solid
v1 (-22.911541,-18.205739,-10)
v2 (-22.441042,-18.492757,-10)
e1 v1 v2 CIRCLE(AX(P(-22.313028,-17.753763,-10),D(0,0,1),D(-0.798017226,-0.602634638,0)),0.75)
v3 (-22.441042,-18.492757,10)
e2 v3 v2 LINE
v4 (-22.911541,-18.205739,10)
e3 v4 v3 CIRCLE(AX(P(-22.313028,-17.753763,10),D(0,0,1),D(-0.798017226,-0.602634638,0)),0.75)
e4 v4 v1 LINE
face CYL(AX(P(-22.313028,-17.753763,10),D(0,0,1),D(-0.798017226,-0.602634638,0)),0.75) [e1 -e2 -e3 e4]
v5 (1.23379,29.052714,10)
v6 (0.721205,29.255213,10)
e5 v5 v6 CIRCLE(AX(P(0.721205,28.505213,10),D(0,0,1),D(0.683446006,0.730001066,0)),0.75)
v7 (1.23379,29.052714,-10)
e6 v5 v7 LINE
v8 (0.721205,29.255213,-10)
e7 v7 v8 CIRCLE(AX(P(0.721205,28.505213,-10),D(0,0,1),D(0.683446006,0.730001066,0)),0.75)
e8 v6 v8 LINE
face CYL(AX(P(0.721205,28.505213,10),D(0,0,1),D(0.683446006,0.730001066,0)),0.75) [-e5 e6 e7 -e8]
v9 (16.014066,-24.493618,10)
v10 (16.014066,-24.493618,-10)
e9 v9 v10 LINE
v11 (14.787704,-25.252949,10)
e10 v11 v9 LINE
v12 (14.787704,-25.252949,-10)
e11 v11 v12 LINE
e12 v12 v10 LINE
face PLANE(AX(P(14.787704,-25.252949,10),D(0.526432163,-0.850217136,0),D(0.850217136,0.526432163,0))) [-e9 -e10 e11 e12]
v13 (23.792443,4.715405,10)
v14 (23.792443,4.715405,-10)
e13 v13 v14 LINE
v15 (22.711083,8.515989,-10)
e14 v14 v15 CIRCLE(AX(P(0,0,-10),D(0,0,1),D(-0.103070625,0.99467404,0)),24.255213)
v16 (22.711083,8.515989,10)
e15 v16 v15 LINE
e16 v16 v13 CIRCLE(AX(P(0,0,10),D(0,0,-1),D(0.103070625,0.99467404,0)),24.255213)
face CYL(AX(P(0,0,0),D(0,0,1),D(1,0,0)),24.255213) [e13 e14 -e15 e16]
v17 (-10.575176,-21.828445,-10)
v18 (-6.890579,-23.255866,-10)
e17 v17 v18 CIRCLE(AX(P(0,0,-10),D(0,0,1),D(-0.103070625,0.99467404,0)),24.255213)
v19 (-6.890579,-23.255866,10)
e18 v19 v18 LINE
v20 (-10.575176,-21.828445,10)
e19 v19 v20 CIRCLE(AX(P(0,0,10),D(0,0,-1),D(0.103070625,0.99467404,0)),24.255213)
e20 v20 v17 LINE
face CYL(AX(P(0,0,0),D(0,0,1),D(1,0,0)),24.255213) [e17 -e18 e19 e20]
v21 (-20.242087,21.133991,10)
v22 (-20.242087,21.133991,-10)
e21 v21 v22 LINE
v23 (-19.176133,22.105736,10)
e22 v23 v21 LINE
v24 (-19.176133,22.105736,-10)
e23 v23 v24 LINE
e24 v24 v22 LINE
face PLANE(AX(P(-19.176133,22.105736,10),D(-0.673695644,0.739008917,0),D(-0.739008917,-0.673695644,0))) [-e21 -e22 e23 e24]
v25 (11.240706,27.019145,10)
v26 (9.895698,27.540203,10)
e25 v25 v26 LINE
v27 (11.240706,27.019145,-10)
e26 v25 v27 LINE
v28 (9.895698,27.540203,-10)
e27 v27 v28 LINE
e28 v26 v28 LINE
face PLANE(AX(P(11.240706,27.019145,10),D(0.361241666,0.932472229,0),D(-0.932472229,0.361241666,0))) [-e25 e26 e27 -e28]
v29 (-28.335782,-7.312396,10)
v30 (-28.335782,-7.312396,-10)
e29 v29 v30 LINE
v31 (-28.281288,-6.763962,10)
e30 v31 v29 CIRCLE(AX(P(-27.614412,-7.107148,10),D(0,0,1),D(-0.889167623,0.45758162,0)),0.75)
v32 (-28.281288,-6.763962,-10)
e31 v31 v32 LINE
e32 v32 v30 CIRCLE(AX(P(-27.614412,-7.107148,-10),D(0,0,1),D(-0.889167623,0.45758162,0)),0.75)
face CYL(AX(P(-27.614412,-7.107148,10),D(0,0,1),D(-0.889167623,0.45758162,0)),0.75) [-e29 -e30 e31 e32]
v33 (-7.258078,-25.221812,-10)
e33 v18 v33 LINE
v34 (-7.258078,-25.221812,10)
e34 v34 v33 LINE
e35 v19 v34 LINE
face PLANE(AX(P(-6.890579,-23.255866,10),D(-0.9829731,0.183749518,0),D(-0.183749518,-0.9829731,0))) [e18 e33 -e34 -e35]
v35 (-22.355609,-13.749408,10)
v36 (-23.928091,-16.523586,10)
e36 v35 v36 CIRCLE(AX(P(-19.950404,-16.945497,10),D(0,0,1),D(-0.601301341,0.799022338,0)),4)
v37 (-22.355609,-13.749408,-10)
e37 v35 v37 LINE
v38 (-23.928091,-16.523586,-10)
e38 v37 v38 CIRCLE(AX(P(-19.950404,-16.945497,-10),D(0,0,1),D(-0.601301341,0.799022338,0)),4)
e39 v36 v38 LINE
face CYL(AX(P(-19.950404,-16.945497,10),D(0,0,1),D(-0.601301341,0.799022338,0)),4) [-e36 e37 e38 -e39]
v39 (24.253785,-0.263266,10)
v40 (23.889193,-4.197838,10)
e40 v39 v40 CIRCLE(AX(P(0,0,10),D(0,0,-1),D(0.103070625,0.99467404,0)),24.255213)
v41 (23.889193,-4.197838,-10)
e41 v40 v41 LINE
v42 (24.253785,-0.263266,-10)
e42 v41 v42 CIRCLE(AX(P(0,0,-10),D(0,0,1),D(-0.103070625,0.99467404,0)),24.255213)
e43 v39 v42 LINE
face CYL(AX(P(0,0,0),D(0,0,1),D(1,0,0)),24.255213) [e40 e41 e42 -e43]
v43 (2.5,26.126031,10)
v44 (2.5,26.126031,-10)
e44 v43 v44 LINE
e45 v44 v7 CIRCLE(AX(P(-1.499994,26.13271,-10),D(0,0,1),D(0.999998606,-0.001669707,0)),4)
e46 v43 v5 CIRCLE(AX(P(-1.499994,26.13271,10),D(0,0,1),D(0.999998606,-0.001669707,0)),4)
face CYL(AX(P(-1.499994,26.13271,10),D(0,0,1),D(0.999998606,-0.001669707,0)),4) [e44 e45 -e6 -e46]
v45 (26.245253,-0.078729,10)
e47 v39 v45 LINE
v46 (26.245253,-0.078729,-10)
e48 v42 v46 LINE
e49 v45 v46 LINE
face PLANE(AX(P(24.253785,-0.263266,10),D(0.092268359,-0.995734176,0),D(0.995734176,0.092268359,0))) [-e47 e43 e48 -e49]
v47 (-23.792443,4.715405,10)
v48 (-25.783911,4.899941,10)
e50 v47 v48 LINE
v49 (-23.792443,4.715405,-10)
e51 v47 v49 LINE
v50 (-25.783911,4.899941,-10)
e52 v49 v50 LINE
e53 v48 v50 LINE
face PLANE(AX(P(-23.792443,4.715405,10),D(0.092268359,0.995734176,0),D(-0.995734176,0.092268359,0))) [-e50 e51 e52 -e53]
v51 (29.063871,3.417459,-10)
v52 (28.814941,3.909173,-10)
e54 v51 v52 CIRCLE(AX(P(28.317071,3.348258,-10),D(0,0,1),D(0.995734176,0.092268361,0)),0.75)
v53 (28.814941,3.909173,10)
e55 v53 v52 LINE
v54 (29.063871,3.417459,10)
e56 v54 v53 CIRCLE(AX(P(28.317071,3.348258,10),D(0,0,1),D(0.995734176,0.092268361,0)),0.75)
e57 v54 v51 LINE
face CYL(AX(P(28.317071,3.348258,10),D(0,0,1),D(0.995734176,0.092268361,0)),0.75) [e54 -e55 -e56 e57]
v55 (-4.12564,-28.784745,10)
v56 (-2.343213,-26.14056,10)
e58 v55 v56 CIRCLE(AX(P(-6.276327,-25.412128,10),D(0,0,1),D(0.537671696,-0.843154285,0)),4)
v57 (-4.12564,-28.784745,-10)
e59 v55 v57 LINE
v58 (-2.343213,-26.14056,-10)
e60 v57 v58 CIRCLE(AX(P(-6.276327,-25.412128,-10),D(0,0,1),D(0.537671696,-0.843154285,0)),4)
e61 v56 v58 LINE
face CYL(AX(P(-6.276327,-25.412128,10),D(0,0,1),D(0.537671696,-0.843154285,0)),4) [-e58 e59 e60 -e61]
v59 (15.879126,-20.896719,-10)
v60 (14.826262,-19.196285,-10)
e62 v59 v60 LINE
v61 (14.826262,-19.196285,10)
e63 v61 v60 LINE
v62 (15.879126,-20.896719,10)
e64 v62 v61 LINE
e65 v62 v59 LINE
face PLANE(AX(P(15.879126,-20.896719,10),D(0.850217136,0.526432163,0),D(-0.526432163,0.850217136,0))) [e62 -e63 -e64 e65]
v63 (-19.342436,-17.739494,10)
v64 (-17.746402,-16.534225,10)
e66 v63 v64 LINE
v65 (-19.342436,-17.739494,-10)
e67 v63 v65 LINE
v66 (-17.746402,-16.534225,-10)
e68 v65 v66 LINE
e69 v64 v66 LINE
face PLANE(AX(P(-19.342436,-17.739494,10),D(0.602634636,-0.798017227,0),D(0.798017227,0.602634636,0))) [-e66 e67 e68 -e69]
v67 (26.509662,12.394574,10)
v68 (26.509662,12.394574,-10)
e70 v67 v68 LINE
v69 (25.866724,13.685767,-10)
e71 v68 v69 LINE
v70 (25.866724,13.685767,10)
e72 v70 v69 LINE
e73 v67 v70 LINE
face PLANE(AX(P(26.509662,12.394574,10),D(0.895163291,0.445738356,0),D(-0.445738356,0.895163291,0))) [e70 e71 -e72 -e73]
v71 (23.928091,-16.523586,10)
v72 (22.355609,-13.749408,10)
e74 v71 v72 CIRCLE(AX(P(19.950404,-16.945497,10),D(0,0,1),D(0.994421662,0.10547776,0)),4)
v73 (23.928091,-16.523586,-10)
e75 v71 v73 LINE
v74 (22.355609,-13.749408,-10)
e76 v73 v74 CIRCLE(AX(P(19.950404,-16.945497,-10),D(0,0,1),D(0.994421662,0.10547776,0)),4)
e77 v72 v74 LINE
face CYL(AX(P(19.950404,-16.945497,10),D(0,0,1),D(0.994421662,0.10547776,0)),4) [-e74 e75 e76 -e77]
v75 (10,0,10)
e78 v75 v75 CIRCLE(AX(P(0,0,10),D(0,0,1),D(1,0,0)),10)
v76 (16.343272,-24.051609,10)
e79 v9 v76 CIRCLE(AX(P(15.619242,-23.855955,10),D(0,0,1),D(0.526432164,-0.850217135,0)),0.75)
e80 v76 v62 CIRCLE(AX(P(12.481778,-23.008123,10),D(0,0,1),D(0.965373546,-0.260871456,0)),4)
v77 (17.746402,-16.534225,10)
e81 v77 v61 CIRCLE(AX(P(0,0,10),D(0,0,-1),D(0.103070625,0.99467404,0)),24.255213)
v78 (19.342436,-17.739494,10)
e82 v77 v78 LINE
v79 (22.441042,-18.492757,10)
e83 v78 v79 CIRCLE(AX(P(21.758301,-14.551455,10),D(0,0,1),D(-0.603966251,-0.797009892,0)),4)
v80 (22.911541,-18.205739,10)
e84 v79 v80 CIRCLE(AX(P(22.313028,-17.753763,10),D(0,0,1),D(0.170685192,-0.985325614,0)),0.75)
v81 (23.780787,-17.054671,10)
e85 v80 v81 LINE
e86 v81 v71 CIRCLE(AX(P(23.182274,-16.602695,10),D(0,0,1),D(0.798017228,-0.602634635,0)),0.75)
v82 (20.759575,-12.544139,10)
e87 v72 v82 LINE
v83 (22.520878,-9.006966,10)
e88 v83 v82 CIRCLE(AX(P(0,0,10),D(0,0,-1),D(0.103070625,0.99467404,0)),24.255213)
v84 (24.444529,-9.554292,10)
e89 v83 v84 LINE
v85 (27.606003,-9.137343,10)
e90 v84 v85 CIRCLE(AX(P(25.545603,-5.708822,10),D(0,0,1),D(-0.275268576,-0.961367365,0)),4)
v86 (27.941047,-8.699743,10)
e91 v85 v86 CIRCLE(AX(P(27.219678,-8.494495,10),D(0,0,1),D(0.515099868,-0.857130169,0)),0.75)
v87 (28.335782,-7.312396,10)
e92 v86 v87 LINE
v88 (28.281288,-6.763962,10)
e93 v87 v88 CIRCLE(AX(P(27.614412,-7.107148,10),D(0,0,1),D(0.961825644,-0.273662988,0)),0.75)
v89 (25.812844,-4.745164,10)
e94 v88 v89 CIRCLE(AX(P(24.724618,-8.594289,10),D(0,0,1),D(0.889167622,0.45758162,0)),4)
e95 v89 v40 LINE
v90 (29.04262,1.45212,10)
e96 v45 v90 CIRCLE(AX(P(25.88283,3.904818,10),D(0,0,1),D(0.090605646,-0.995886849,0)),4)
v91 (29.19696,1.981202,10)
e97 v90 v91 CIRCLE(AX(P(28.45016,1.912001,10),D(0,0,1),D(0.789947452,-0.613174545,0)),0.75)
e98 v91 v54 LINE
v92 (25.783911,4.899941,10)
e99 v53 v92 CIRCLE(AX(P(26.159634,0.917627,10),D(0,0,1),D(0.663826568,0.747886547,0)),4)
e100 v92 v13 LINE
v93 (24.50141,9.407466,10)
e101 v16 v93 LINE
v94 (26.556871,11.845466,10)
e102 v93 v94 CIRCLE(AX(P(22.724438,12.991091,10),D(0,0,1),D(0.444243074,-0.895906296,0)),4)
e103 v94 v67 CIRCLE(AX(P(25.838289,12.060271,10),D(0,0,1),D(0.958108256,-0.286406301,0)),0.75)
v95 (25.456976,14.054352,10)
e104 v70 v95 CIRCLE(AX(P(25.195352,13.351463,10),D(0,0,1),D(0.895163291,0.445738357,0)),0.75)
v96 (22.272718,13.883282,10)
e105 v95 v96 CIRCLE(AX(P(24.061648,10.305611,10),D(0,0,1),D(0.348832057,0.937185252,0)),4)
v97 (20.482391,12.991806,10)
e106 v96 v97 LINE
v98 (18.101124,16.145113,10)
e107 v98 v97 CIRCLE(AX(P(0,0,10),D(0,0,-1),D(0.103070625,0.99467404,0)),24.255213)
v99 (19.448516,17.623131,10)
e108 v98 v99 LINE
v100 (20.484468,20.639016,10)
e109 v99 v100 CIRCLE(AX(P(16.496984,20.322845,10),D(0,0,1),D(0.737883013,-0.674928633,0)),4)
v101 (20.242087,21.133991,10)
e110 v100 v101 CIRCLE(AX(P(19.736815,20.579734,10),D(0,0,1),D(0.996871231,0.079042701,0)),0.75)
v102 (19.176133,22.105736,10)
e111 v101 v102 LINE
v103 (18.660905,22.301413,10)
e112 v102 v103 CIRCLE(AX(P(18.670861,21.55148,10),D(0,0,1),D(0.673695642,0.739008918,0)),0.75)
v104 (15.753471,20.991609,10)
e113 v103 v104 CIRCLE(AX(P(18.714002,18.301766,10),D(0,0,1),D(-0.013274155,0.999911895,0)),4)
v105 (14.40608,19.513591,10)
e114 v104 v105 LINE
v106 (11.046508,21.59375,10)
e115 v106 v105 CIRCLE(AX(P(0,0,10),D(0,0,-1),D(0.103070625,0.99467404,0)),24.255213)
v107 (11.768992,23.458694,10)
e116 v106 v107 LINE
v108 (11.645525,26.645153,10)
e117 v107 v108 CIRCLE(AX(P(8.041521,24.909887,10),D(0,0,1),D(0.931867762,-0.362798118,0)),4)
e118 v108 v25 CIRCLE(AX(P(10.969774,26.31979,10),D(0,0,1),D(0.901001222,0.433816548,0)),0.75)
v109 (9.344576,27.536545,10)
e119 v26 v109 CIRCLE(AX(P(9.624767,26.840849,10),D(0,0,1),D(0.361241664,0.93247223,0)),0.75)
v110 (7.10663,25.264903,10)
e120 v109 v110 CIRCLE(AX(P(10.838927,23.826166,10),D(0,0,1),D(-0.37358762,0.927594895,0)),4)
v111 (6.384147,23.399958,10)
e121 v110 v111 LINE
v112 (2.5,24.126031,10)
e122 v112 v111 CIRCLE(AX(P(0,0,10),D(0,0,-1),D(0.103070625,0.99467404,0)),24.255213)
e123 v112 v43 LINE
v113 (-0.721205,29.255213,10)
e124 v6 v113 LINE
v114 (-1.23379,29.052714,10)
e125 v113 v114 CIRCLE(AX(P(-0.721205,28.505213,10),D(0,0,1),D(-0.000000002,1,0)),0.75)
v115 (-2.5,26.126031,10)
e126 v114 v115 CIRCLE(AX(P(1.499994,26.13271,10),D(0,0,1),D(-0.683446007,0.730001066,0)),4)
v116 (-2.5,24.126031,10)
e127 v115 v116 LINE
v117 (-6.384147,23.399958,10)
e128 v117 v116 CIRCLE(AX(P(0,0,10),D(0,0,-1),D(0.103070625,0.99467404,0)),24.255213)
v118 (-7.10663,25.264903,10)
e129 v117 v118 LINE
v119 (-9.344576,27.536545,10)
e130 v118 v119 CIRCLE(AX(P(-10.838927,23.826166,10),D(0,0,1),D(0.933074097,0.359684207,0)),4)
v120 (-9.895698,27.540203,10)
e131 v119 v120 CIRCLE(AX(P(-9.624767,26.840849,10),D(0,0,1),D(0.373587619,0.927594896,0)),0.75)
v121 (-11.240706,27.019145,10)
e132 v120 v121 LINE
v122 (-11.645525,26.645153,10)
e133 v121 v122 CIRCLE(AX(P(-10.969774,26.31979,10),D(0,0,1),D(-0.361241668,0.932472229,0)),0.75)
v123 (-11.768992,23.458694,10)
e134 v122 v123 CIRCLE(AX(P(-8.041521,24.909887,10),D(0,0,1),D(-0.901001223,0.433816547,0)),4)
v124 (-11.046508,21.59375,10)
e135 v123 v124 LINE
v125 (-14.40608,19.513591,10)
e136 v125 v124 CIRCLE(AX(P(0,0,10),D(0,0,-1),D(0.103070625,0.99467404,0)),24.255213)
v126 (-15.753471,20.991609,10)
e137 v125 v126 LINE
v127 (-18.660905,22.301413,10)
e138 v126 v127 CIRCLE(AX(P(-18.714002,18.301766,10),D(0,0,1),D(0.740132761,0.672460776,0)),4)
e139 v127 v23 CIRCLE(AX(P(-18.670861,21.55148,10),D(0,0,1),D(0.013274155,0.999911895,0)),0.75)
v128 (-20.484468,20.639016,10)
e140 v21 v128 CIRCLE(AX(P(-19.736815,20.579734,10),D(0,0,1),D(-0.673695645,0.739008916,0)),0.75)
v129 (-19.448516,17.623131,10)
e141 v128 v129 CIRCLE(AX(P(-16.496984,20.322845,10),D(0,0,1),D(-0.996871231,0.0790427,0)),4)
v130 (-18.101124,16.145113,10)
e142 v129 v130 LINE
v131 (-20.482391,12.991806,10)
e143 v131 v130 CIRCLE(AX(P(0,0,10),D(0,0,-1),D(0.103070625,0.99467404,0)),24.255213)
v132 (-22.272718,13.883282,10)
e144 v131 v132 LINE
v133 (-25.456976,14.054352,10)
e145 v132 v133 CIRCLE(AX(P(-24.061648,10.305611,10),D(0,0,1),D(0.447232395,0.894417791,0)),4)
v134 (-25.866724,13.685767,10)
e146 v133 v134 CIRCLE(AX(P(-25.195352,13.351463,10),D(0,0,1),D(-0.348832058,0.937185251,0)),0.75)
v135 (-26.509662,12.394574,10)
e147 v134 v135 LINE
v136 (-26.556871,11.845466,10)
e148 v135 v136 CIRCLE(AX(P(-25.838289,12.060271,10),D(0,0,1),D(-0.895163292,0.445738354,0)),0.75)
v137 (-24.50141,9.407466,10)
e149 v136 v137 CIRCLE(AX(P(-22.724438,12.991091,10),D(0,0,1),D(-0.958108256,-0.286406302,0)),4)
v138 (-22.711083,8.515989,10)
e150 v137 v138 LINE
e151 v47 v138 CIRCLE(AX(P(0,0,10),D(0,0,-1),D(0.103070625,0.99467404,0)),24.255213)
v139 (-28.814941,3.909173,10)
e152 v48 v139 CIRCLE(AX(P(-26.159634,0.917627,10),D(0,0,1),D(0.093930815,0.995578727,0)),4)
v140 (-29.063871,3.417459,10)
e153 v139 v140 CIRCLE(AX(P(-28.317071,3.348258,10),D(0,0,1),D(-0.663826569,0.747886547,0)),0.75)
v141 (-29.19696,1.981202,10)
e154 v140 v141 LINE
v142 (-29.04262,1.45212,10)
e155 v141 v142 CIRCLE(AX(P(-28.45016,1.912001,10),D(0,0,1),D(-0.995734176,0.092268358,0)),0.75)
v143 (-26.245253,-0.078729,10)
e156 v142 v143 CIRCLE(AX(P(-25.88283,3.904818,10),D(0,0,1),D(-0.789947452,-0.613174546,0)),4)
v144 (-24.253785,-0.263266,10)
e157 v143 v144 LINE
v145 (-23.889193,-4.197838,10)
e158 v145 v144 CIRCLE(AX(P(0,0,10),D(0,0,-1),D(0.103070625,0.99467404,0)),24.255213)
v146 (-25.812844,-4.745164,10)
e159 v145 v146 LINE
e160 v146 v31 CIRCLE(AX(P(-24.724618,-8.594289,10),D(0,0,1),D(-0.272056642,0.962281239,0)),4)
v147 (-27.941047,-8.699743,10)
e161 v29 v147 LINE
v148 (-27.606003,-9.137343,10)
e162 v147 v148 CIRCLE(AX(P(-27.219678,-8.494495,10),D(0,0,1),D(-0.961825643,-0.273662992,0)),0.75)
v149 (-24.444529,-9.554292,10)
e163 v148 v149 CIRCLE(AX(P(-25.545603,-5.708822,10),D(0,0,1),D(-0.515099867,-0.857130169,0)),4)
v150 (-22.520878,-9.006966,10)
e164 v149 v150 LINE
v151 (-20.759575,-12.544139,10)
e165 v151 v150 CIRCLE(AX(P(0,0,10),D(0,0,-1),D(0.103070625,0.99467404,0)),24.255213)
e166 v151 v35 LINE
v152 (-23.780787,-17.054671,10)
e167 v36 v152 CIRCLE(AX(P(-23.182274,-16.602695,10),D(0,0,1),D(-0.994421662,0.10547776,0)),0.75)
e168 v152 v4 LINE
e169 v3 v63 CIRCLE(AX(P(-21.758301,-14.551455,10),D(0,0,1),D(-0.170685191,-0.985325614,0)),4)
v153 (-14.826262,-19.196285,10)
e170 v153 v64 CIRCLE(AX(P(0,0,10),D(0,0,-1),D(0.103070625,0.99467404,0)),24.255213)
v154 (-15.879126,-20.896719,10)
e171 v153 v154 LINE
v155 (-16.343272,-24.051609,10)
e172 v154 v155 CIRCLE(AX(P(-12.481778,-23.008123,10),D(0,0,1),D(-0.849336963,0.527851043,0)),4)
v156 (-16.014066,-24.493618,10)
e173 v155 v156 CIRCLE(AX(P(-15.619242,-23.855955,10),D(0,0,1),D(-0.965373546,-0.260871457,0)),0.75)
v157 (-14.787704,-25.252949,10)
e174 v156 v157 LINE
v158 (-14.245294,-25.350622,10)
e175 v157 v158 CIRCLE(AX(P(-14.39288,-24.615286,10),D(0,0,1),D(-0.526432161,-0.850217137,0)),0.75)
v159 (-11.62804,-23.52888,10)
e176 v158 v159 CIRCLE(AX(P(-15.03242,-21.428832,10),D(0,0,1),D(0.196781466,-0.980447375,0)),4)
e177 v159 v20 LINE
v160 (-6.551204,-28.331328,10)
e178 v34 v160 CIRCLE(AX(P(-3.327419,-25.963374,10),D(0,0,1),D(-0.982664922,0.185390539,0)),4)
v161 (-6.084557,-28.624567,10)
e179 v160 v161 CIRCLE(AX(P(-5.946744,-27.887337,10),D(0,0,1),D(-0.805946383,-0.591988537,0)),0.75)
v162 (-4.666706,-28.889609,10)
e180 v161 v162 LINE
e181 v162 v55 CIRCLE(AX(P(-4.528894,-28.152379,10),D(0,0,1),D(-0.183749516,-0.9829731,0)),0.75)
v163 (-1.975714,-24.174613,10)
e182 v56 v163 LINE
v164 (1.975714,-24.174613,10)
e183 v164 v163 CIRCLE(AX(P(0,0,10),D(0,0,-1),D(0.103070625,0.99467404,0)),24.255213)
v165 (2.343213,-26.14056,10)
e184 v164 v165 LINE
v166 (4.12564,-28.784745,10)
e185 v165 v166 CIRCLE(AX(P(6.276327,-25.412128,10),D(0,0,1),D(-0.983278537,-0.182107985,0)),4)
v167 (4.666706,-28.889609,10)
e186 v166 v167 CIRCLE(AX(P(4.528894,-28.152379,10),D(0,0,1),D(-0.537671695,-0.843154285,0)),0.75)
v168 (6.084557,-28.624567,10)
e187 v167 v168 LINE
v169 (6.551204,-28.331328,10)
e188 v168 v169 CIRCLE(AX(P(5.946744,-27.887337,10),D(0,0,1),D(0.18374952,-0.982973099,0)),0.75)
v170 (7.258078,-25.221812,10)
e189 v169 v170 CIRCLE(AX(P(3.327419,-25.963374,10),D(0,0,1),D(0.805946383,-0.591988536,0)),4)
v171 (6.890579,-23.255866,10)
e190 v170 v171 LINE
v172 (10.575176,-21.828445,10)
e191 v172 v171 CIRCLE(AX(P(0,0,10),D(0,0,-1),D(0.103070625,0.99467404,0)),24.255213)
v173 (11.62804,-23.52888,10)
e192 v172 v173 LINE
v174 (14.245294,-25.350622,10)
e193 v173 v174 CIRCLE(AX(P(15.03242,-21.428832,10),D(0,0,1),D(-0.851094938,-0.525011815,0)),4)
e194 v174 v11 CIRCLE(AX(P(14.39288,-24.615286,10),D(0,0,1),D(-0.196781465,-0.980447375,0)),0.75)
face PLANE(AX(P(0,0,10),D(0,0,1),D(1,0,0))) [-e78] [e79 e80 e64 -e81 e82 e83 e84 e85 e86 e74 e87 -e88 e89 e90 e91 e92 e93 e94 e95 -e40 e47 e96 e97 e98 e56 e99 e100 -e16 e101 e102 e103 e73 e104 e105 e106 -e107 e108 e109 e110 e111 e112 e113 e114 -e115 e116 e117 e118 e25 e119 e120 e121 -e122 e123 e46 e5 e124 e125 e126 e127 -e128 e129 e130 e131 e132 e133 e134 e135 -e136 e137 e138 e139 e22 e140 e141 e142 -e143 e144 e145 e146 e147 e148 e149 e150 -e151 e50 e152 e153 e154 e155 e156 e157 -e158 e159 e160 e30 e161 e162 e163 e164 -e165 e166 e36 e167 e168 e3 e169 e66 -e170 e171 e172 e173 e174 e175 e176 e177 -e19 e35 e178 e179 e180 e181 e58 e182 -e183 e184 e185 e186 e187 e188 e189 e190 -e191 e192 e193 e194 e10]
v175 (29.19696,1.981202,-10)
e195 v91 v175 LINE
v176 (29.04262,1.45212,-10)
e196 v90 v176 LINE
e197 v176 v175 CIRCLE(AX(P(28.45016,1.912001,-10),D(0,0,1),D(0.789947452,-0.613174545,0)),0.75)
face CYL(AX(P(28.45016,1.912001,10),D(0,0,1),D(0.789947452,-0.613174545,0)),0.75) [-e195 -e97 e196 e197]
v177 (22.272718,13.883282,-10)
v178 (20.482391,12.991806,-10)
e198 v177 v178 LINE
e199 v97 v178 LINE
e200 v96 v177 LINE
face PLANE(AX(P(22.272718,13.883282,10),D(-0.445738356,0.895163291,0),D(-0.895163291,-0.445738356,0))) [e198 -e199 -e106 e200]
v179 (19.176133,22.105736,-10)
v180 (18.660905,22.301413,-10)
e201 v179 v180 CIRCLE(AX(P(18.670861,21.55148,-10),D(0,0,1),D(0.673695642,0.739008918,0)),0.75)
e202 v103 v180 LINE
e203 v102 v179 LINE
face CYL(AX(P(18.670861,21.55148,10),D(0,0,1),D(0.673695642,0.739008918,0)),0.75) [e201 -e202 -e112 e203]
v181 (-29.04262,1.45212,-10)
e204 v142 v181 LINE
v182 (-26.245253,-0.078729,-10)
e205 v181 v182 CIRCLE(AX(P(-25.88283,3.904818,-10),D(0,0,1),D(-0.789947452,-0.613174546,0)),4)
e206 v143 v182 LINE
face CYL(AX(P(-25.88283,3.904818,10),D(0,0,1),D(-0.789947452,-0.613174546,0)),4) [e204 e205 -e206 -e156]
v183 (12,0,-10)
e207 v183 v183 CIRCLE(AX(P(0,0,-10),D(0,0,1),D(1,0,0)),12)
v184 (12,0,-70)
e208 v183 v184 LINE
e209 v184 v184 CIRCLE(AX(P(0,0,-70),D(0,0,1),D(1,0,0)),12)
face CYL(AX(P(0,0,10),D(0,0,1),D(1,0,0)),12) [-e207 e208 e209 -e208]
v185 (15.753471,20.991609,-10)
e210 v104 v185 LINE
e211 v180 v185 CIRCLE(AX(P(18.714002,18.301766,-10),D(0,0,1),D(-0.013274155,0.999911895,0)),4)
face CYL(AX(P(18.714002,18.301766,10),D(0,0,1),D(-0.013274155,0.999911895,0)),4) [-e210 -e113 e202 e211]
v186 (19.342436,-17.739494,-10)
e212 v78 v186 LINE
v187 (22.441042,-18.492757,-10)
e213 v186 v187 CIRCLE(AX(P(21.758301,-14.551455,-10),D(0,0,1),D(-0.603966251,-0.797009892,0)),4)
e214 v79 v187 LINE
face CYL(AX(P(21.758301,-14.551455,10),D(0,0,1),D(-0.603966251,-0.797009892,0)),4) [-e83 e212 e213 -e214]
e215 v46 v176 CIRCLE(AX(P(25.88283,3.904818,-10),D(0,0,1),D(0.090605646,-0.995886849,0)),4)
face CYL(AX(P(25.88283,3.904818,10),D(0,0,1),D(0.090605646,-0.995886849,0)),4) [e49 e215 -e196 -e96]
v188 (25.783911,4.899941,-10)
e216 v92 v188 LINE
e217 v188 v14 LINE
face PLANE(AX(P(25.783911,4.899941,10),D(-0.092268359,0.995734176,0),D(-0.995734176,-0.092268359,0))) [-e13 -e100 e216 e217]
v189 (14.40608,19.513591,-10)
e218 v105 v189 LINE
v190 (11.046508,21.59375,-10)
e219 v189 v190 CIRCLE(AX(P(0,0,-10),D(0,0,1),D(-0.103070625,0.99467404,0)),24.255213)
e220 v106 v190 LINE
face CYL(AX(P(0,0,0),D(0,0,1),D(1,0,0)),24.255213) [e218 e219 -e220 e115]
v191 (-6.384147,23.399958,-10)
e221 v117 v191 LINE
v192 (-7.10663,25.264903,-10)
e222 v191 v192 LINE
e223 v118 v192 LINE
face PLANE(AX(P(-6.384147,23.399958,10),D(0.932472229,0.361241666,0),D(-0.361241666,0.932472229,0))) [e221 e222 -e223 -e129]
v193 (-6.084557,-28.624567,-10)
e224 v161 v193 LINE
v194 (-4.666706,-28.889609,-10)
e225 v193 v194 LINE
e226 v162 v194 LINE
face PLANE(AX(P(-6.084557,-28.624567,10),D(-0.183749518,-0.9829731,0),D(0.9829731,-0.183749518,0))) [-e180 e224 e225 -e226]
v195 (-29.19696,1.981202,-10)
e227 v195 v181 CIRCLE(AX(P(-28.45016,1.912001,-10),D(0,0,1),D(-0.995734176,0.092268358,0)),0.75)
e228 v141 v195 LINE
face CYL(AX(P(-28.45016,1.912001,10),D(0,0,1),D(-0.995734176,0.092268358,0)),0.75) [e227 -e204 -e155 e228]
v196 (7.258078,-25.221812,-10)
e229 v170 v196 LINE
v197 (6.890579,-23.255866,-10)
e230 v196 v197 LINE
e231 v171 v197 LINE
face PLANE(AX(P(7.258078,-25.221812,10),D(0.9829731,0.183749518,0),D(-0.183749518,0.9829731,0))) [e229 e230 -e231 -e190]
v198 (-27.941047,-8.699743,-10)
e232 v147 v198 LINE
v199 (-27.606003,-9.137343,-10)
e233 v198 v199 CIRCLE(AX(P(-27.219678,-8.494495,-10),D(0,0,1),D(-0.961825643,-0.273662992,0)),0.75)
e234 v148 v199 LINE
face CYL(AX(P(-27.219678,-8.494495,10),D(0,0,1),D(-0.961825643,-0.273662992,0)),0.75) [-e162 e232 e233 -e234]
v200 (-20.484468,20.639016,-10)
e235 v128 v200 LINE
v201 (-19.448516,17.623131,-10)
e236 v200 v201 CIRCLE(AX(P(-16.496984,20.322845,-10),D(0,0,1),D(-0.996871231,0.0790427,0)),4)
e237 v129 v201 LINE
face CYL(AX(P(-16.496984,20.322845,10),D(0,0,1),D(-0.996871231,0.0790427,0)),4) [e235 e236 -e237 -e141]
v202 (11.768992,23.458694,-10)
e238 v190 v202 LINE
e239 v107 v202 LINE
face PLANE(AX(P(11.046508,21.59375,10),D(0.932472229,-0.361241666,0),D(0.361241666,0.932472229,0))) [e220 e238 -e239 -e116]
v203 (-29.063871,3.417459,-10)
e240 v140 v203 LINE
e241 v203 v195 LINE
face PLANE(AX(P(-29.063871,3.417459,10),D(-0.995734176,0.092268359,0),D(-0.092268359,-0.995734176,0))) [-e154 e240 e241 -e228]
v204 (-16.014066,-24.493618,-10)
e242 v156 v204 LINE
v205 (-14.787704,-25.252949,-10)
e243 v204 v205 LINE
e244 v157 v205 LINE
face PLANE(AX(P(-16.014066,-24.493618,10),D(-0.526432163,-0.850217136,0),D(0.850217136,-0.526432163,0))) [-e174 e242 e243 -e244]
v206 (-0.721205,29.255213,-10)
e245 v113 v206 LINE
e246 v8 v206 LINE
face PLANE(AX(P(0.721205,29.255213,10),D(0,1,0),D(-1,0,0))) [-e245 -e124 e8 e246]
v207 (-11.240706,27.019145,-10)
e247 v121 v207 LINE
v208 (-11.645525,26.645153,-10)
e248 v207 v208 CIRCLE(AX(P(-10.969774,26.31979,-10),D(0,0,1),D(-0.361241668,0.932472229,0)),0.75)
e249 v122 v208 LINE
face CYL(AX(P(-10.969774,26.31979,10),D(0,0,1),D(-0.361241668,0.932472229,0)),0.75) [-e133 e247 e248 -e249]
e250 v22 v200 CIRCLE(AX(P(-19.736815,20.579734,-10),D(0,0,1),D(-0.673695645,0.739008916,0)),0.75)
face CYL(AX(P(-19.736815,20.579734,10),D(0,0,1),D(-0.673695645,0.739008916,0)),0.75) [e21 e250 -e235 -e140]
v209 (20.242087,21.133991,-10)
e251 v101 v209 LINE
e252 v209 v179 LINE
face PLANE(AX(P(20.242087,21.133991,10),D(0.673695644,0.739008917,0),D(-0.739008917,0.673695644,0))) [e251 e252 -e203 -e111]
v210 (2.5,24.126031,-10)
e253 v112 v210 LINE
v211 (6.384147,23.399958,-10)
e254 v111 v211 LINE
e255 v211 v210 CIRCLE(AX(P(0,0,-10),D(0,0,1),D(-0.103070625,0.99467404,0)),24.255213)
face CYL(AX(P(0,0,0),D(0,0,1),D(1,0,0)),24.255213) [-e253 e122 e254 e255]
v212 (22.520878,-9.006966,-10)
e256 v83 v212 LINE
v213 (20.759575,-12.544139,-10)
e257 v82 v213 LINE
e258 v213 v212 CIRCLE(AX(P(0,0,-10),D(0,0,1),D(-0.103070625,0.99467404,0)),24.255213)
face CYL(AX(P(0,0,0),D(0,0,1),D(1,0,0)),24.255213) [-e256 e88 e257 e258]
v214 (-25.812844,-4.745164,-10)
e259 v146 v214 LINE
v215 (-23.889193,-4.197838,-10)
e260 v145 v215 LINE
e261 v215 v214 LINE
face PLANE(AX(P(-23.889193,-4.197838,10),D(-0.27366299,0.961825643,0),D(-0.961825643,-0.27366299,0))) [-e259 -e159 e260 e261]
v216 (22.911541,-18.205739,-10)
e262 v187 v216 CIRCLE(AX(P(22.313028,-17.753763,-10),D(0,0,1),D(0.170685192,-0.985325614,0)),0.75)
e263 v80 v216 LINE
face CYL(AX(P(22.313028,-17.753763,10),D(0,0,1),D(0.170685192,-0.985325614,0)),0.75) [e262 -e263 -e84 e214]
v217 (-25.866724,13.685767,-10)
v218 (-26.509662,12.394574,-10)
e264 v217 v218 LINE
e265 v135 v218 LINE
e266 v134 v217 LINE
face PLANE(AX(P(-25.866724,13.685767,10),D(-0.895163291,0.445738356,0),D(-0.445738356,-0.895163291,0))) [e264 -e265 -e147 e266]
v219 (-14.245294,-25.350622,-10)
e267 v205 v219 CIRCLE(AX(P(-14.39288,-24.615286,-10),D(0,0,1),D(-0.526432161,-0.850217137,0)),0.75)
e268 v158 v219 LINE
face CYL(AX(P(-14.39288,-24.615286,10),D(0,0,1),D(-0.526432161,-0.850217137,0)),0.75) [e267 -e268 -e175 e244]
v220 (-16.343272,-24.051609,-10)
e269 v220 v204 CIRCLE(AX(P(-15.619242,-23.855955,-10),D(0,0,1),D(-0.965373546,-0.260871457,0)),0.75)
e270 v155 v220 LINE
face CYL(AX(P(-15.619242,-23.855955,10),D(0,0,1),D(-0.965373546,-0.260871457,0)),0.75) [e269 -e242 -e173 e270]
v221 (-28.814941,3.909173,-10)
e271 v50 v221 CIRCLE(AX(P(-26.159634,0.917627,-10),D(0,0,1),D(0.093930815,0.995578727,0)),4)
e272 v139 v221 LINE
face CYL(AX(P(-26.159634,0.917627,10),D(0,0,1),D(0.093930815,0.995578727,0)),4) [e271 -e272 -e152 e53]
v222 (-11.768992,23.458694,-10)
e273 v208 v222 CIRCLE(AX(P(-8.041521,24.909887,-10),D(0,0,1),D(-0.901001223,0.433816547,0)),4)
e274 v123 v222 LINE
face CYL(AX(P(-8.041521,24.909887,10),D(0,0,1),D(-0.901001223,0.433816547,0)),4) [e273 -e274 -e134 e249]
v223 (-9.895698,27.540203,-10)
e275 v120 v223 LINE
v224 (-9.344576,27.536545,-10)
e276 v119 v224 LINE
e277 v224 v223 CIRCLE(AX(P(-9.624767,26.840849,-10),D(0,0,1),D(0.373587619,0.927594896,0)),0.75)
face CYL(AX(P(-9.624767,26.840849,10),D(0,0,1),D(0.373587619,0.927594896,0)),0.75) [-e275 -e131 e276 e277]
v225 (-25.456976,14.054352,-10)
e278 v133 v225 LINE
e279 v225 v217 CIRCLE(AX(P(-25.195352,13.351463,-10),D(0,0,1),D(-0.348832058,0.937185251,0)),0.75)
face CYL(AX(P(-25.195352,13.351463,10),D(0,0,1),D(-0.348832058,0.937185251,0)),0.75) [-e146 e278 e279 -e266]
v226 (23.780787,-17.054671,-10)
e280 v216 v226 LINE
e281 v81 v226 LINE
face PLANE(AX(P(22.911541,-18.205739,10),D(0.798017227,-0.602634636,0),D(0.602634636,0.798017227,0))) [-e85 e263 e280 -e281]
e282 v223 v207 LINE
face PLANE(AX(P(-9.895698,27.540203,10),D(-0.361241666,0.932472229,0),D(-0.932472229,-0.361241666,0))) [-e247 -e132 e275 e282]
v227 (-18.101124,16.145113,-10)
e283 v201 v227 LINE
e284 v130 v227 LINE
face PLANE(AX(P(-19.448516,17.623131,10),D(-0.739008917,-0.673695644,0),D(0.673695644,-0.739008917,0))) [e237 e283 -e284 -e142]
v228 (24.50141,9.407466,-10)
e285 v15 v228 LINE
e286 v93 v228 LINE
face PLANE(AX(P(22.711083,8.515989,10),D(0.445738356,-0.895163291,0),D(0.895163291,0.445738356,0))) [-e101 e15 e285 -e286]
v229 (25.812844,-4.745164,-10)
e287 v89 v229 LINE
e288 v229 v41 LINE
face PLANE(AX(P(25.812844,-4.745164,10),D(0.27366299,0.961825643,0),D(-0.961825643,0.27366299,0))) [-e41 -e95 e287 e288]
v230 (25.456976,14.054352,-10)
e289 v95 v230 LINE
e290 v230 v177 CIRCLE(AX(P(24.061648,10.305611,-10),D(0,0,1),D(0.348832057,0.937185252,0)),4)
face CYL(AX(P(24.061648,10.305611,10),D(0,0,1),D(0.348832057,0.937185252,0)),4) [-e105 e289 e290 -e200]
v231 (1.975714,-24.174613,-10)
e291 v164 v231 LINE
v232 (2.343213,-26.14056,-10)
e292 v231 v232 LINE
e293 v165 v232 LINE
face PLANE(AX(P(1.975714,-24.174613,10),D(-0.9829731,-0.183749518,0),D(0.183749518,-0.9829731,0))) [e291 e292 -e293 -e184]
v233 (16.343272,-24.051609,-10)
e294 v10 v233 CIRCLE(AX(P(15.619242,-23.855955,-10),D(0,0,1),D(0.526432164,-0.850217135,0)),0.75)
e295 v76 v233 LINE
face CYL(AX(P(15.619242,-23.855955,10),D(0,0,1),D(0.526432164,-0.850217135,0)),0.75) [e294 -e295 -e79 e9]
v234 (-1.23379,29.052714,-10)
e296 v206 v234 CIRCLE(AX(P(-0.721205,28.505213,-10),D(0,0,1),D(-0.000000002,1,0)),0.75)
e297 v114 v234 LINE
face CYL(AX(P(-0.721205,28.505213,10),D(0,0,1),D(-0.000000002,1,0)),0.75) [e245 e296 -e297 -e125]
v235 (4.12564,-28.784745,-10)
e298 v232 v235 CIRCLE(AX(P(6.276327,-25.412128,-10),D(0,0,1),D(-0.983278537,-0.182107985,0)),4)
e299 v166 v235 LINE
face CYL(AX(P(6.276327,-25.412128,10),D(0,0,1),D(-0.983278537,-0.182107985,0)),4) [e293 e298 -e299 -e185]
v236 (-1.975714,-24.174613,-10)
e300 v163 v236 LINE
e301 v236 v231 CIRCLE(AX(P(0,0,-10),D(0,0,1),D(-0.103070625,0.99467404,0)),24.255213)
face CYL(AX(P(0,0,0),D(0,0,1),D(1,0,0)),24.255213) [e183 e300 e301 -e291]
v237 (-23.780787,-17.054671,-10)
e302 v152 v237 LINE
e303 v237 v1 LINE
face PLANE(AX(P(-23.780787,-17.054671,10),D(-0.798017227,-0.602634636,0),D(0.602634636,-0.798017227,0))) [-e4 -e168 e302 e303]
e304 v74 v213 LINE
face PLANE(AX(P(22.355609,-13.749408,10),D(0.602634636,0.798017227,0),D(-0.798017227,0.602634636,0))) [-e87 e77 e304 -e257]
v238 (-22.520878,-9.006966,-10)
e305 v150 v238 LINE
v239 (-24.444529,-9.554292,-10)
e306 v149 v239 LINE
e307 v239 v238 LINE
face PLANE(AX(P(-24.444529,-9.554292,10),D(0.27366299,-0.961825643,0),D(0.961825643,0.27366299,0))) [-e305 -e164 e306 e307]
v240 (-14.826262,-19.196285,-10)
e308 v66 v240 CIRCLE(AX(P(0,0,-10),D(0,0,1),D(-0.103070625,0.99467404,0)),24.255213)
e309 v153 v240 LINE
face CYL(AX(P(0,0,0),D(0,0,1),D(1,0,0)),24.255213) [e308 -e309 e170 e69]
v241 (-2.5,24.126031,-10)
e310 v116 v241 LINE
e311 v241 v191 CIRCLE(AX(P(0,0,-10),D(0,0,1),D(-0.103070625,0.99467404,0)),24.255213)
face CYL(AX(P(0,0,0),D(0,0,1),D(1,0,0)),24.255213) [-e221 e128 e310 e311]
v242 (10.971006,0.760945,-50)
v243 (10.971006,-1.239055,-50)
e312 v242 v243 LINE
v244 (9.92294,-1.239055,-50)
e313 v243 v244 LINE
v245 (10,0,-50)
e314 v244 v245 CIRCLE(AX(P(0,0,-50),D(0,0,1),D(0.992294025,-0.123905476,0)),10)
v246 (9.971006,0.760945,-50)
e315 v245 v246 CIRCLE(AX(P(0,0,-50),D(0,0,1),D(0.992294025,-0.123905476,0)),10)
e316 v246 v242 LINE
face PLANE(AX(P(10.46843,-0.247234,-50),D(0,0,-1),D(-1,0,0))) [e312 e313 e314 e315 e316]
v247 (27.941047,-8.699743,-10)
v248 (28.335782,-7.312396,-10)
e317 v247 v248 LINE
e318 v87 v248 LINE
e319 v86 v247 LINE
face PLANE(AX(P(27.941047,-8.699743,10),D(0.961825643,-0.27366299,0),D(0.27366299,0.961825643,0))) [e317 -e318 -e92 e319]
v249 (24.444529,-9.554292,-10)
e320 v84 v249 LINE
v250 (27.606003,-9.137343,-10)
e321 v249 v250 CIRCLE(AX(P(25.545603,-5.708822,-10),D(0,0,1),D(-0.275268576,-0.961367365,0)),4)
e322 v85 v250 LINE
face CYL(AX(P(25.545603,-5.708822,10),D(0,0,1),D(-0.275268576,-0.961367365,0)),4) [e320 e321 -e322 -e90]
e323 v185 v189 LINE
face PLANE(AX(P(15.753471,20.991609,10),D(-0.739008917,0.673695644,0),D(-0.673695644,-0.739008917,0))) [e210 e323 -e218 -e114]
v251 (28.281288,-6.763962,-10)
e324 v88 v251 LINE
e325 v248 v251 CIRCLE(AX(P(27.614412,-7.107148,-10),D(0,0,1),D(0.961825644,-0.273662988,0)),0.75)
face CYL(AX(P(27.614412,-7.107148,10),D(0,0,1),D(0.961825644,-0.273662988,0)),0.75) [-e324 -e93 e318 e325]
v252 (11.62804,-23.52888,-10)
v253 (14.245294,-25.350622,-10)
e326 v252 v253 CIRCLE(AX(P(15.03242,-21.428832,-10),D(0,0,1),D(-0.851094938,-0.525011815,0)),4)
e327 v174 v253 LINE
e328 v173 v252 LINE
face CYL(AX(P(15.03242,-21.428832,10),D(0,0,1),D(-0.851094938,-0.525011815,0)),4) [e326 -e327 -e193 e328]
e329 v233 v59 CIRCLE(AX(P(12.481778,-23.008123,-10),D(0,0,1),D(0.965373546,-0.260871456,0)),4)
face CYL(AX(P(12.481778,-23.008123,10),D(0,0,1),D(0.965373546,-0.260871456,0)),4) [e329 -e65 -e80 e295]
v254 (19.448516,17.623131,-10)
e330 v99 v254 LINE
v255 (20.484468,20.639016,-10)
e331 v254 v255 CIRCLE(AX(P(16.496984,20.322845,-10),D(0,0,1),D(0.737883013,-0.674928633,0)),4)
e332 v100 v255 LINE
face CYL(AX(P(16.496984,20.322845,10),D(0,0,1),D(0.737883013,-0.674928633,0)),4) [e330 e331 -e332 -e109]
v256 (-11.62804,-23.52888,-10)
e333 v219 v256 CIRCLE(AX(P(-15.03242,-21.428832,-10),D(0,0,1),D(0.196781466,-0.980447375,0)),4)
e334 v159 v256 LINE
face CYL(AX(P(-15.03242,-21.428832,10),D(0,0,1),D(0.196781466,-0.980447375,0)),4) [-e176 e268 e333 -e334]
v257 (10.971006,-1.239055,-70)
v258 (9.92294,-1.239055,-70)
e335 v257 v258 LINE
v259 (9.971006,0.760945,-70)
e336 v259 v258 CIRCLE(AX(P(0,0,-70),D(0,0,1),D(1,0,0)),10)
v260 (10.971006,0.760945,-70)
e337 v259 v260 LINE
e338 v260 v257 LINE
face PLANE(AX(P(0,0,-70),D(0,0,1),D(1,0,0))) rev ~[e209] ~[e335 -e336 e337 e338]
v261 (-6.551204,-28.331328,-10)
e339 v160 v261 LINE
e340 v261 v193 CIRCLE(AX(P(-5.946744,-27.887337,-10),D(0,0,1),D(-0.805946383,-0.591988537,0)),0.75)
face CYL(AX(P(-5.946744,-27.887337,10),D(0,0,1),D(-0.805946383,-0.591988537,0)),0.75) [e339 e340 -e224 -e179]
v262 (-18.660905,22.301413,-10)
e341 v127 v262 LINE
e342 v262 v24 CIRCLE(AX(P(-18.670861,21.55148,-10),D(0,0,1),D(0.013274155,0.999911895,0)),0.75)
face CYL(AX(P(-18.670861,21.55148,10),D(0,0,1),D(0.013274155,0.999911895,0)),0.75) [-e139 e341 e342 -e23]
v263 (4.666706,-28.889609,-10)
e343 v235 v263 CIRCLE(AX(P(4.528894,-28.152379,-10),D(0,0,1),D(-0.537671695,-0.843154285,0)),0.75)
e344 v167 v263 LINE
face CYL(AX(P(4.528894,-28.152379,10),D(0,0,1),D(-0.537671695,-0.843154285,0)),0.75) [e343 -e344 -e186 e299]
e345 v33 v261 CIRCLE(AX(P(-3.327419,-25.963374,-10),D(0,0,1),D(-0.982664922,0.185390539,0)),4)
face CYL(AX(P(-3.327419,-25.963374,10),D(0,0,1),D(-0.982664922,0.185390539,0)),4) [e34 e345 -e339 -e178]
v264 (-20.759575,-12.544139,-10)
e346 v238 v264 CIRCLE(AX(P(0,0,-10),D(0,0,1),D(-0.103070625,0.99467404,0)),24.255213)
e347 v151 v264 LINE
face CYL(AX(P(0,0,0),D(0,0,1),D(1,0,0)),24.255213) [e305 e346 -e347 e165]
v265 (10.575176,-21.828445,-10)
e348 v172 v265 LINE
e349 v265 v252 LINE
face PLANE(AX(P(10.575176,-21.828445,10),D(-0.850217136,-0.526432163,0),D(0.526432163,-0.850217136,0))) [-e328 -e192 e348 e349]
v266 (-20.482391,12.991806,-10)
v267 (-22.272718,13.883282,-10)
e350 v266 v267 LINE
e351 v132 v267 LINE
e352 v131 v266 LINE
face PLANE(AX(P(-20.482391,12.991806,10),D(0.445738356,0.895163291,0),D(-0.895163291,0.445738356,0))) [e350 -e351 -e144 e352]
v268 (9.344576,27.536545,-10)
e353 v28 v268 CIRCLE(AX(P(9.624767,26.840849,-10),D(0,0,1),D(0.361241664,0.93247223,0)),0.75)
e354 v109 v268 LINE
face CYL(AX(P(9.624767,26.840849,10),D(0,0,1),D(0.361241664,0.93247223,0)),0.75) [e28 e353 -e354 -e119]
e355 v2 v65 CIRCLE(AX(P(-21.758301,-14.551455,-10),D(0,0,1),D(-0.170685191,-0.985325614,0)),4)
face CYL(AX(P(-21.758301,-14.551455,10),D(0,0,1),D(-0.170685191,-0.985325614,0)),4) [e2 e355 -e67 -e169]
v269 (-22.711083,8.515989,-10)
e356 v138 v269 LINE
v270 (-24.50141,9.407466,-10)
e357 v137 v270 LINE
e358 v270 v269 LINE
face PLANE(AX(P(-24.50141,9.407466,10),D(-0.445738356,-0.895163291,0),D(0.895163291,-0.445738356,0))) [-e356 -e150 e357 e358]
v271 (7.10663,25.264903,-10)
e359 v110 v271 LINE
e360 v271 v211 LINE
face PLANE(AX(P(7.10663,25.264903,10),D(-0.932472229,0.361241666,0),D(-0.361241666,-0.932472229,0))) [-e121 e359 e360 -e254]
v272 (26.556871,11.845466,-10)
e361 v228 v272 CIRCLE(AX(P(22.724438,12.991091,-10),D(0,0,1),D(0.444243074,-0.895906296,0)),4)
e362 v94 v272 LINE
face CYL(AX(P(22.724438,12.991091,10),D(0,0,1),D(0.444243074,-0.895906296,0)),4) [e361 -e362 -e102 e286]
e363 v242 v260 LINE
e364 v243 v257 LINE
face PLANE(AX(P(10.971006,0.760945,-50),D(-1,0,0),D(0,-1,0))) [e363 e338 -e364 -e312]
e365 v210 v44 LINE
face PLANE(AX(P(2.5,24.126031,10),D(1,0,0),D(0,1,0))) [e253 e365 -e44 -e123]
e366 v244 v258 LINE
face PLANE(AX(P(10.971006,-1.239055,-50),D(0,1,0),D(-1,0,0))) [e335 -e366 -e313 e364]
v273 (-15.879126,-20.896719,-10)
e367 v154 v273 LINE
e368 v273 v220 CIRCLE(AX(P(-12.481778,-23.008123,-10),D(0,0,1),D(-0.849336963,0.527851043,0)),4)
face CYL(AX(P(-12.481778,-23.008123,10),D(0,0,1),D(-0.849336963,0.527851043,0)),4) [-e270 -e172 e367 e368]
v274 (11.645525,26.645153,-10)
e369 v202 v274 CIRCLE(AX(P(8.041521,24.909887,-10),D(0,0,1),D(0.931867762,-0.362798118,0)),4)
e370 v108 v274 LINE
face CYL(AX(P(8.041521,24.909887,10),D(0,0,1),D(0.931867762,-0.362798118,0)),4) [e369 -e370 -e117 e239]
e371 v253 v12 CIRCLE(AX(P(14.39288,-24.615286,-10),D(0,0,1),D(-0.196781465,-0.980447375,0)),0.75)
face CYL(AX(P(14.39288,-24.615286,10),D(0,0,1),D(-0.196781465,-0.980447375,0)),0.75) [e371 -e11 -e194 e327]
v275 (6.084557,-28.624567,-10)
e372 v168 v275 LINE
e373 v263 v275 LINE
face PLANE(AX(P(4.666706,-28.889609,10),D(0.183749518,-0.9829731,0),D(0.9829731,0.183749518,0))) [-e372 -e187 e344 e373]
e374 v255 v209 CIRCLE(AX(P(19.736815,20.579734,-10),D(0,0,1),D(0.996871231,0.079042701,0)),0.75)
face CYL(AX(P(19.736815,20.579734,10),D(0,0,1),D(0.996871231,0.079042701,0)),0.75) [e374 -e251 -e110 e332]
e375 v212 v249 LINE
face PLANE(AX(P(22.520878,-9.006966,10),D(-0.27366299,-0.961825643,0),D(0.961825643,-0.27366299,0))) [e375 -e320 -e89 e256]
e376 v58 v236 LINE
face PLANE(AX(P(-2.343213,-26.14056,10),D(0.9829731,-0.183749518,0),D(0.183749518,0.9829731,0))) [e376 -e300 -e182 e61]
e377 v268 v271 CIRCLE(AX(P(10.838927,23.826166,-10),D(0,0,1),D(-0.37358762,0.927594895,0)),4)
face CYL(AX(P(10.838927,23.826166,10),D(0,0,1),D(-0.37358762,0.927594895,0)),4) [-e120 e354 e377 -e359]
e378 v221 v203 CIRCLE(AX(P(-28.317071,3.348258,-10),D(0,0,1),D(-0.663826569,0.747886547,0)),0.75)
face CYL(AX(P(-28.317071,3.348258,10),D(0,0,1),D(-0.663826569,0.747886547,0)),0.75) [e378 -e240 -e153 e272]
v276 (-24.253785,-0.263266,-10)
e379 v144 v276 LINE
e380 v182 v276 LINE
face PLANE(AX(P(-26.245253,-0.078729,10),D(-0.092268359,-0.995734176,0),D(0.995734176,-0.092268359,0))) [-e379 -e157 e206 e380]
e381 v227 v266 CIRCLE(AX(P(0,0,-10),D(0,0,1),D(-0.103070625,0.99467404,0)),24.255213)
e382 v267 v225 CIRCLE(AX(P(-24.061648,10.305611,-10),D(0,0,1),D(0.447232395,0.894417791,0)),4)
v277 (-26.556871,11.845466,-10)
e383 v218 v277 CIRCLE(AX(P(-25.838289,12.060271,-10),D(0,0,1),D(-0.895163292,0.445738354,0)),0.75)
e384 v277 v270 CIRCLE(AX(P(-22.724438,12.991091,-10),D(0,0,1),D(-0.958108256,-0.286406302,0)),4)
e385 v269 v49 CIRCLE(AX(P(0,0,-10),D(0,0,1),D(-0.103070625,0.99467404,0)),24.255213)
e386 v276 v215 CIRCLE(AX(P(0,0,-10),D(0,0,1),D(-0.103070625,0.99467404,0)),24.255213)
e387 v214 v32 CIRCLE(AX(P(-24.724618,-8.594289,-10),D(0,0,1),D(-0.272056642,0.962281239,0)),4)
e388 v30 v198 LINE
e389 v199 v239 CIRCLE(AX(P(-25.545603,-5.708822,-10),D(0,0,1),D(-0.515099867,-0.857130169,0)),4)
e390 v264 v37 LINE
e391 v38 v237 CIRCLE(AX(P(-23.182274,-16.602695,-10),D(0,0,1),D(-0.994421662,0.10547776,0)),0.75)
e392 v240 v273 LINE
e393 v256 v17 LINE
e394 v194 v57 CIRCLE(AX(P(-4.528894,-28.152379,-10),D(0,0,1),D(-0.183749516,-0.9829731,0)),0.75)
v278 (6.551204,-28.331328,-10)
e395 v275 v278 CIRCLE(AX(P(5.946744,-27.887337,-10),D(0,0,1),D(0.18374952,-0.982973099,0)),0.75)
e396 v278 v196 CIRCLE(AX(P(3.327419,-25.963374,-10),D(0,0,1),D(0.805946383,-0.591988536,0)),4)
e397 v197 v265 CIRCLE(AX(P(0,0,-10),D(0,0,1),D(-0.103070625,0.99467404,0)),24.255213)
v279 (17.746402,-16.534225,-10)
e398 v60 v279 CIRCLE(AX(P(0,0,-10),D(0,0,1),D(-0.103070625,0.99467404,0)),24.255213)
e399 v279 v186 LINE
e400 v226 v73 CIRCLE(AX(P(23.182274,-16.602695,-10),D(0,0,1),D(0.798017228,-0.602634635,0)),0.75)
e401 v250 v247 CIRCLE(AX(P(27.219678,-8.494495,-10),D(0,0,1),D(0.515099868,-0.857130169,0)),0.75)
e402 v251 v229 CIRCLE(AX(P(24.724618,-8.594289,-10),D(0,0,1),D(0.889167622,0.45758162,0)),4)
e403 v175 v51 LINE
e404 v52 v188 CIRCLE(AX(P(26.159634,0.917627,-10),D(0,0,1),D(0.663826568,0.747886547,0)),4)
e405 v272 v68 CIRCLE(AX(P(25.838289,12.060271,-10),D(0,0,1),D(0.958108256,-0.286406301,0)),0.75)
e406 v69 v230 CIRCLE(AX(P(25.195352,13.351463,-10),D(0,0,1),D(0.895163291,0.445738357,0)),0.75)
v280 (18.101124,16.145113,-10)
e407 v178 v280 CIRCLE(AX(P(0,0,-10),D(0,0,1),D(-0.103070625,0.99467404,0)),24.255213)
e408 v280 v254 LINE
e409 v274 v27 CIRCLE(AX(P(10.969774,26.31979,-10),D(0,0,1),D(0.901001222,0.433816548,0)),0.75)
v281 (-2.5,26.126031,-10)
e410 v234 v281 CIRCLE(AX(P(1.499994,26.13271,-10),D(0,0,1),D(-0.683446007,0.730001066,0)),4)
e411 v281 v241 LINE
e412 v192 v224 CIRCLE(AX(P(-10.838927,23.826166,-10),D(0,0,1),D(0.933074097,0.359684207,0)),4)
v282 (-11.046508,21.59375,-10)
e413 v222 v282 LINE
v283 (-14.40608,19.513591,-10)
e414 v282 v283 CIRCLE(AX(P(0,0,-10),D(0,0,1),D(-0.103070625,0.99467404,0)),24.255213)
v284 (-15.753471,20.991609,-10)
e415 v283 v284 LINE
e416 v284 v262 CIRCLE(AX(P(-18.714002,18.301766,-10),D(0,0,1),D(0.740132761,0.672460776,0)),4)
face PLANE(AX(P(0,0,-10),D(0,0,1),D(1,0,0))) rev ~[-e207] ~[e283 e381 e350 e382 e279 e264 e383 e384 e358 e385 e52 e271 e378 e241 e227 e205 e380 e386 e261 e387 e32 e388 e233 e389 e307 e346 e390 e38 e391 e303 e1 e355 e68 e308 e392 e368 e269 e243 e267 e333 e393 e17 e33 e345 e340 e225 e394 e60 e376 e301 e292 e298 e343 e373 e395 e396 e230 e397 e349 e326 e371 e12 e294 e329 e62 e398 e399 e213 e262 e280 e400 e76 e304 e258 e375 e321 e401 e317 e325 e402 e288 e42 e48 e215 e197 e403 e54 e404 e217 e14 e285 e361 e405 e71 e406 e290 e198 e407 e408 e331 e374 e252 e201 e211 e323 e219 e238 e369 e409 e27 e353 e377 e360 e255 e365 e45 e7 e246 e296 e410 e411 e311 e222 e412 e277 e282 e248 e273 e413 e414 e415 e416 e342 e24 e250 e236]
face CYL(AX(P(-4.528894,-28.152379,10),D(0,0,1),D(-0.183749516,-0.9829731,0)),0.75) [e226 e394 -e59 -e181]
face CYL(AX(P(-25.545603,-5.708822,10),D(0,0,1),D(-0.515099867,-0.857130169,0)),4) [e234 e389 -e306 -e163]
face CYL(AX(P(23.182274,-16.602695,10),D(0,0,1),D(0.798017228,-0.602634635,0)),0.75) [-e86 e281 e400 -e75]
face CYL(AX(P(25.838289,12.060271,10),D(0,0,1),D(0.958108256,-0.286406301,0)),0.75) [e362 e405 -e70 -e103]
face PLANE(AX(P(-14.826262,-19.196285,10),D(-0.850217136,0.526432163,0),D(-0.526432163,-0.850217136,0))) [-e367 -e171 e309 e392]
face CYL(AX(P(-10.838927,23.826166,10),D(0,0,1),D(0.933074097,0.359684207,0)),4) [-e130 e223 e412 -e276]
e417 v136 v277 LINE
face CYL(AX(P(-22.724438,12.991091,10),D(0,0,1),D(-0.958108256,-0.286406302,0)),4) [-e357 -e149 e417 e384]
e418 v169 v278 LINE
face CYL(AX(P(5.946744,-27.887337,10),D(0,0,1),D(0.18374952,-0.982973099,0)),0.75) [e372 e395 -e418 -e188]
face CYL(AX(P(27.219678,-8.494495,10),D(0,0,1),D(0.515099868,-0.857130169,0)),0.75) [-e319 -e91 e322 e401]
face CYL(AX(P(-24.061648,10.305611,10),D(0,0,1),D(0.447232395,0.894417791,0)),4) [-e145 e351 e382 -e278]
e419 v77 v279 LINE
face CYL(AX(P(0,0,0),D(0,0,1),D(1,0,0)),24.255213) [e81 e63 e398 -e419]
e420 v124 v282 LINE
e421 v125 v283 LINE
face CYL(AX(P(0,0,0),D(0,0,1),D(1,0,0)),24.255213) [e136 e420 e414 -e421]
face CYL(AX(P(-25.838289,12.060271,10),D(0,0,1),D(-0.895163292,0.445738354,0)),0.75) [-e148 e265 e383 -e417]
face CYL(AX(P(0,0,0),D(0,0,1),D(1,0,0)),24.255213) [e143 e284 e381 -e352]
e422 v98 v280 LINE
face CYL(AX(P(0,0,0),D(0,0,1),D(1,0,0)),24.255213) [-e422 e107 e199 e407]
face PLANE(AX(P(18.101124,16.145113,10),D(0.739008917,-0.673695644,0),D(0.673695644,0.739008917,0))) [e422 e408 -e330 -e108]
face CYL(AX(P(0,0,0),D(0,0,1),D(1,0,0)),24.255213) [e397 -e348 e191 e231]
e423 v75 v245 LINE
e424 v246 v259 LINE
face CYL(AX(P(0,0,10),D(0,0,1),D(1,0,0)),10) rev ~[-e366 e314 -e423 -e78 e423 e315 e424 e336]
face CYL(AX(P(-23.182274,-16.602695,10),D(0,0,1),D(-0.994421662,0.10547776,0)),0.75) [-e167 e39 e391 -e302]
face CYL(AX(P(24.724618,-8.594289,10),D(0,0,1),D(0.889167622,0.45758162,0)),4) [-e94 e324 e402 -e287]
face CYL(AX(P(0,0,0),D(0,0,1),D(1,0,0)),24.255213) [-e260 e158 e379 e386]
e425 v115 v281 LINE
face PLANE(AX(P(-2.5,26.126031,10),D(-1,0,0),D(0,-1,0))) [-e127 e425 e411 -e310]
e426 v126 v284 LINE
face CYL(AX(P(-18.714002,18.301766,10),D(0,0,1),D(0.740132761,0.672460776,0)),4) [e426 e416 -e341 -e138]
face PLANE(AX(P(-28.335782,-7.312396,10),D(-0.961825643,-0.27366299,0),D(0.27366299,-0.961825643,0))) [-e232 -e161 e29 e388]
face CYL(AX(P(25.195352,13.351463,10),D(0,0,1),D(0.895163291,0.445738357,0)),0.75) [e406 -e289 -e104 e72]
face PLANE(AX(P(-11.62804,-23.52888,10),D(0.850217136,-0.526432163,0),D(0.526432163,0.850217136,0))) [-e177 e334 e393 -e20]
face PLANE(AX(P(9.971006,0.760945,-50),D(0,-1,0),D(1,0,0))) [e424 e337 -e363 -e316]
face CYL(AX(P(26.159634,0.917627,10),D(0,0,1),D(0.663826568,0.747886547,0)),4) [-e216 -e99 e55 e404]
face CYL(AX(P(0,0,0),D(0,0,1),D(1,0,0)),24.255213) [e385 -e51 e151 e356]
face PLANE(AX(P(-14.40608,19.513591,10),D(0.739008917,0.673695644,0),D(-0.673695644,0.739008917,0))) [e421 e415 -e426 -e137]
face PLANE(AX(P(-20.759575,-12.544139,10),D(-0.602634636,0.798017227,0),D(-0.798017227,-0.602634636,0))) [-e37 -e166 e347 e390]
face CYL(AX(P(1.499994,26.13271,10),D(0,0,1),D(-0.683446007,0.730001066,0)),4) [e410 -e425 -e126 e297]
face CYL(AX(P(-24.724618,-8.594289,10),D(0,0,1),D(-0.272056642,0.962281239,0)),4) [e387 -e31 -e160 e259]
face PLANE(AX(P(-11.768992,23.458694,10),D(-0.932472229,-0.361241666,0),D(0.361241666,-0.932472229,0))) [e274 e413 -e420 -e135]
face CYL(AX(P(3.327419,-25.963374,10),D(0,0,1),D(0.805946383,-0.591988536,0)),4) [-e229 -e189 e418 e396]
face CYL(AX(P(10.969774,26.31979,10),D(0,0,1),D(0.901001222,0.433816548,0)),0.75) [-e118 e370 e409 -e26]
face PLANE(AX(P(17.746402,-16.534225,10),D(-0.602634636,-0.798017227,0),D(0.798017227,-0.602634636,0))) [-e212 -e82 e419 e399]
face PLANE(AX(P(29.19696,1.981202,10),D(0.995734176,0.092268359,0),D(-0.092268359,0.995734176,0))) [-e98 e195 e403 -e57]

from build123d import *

# Parameters (mm, degrees)
SKETCH1_R           = 24.25521333
BOSS_EXTRUDE1_DEPTH = 10
BOSS_EXTRUDE2_DEPTH = 20
CIRPATTERN1_COUNT   = 17
SKETCH3_R           = 12
CUT_EXTRUDE1_DEPTH  = 20
SKETCH4_R           = 12
SKETCH4_R_2         = 10
BOSS_EXTRUDE3_DEPTH = 80
CUT_EXTRUDE2_START  = -20
CUT_EXTRUDE2_DEPTH  = 20


with BuildPart() as part:
    # Sketch1 → Boss-Extrude1 (new, symmetric)
    with BuildSketch(Plane.XY):
        Circle(SKETCH1_R)
    extrude(amount=BOSS_EXTRUDE1_DEPTH, both=True)

    # Sketch2 → Boss-Extrude2 (add, through all)
    with BuildSketch(Plane.XY.offset(10)):
        with BuildLine():
            Line((2.5, 24.126031039), (2.5, 26.126031039))
            ThreePointArc((2.5, 26.126031039), (2.171151383, 27.721007214), (1.233789603, 29.052714129))
            ThreePointArc((1.233789603, 29.052714129), (0.99677215, 29.202753866), (0.721205098, 29.25521333))
            Line((0.721205098, 29.25521333), (-0.721205098, 29.25521333))
            ThreePointArc((-0.721205098, 29.25521333), (-0.99677215, 29.202753866), (-1.233789603, 29.052714129))
            ThreePointArc((-1.233789603, 29.052714129), (-2.171151383, 27.721007214), (-2.5, 26.126031039))
            Line((-2.5, 26.126031039), (-2.5, 24.126031039))
            ThreePointArc((-2.5, 24.126031039), (0, 24.25521333), (2.5, 24.126031039))
        make_face()
    boss_extrude2 = extrude(amount=-BOSS_EXTRUDE2_DEPTH)

    # CirPattern1: Boss-Extrude2 ×17 about axis
    cirpattern1_axis = Axis((0, 0, 0), (0, 0, 1))
    for i in range(1, CIRPATTERN1_COUNT):
        add(boss_extrude2.rotate(cirpattern1_axis, i * 360 / CIRPATTERN1_COUNT))

    # Sketch3 → Cut-Extrude1 (cut)
    with BuildSketch(Plane.XY.offset(10)):
        Circle(SKETCH3_R)
    extrude(amount=-CUT_EXTRUDE1_DEPTH, mode=Mode.SUBTRACT)

    # Sketch4 → Boss-Extrude3 (add)
    with BuildSketch(Plane.XY.offset(10)):
        Circle(SKETCH4_R)
        Circle(SKETCH4_R_2, mode=Mode.SUBTRACT)
    extrude(amount=-BOSS_EXTRUDE3_DEPTH)

    # Sketch5 → Cut-Extrude2 (cut)
    with BuildSketch(Plane(origin=(0, 0, -70), x_dir=(-1, 0, 0), z_dir=(0, 0, -1)).offset(CUT_EXTRUDE2_START)):
        with BuildLine():
            Line((-10.971006085, 0.760945232), (-10.971006085, -1.239054768))
            Line((-10.971006085, -1.239054768), (-9.922940254, -1.239054768))
            ThreePointArc((-9.922940254, -1.239054768), (-9.997113345, -0.240259783), (-9.971006085, 0.760945232))
            Line((-9.971006085, 0.760945232), (-10.971006085, 0.760945232))
        make_face()
    extrude(amount=CUT_EXTRUDE2_DEPTH, mode=Mode.SUBTRACT)


solid = part.part
